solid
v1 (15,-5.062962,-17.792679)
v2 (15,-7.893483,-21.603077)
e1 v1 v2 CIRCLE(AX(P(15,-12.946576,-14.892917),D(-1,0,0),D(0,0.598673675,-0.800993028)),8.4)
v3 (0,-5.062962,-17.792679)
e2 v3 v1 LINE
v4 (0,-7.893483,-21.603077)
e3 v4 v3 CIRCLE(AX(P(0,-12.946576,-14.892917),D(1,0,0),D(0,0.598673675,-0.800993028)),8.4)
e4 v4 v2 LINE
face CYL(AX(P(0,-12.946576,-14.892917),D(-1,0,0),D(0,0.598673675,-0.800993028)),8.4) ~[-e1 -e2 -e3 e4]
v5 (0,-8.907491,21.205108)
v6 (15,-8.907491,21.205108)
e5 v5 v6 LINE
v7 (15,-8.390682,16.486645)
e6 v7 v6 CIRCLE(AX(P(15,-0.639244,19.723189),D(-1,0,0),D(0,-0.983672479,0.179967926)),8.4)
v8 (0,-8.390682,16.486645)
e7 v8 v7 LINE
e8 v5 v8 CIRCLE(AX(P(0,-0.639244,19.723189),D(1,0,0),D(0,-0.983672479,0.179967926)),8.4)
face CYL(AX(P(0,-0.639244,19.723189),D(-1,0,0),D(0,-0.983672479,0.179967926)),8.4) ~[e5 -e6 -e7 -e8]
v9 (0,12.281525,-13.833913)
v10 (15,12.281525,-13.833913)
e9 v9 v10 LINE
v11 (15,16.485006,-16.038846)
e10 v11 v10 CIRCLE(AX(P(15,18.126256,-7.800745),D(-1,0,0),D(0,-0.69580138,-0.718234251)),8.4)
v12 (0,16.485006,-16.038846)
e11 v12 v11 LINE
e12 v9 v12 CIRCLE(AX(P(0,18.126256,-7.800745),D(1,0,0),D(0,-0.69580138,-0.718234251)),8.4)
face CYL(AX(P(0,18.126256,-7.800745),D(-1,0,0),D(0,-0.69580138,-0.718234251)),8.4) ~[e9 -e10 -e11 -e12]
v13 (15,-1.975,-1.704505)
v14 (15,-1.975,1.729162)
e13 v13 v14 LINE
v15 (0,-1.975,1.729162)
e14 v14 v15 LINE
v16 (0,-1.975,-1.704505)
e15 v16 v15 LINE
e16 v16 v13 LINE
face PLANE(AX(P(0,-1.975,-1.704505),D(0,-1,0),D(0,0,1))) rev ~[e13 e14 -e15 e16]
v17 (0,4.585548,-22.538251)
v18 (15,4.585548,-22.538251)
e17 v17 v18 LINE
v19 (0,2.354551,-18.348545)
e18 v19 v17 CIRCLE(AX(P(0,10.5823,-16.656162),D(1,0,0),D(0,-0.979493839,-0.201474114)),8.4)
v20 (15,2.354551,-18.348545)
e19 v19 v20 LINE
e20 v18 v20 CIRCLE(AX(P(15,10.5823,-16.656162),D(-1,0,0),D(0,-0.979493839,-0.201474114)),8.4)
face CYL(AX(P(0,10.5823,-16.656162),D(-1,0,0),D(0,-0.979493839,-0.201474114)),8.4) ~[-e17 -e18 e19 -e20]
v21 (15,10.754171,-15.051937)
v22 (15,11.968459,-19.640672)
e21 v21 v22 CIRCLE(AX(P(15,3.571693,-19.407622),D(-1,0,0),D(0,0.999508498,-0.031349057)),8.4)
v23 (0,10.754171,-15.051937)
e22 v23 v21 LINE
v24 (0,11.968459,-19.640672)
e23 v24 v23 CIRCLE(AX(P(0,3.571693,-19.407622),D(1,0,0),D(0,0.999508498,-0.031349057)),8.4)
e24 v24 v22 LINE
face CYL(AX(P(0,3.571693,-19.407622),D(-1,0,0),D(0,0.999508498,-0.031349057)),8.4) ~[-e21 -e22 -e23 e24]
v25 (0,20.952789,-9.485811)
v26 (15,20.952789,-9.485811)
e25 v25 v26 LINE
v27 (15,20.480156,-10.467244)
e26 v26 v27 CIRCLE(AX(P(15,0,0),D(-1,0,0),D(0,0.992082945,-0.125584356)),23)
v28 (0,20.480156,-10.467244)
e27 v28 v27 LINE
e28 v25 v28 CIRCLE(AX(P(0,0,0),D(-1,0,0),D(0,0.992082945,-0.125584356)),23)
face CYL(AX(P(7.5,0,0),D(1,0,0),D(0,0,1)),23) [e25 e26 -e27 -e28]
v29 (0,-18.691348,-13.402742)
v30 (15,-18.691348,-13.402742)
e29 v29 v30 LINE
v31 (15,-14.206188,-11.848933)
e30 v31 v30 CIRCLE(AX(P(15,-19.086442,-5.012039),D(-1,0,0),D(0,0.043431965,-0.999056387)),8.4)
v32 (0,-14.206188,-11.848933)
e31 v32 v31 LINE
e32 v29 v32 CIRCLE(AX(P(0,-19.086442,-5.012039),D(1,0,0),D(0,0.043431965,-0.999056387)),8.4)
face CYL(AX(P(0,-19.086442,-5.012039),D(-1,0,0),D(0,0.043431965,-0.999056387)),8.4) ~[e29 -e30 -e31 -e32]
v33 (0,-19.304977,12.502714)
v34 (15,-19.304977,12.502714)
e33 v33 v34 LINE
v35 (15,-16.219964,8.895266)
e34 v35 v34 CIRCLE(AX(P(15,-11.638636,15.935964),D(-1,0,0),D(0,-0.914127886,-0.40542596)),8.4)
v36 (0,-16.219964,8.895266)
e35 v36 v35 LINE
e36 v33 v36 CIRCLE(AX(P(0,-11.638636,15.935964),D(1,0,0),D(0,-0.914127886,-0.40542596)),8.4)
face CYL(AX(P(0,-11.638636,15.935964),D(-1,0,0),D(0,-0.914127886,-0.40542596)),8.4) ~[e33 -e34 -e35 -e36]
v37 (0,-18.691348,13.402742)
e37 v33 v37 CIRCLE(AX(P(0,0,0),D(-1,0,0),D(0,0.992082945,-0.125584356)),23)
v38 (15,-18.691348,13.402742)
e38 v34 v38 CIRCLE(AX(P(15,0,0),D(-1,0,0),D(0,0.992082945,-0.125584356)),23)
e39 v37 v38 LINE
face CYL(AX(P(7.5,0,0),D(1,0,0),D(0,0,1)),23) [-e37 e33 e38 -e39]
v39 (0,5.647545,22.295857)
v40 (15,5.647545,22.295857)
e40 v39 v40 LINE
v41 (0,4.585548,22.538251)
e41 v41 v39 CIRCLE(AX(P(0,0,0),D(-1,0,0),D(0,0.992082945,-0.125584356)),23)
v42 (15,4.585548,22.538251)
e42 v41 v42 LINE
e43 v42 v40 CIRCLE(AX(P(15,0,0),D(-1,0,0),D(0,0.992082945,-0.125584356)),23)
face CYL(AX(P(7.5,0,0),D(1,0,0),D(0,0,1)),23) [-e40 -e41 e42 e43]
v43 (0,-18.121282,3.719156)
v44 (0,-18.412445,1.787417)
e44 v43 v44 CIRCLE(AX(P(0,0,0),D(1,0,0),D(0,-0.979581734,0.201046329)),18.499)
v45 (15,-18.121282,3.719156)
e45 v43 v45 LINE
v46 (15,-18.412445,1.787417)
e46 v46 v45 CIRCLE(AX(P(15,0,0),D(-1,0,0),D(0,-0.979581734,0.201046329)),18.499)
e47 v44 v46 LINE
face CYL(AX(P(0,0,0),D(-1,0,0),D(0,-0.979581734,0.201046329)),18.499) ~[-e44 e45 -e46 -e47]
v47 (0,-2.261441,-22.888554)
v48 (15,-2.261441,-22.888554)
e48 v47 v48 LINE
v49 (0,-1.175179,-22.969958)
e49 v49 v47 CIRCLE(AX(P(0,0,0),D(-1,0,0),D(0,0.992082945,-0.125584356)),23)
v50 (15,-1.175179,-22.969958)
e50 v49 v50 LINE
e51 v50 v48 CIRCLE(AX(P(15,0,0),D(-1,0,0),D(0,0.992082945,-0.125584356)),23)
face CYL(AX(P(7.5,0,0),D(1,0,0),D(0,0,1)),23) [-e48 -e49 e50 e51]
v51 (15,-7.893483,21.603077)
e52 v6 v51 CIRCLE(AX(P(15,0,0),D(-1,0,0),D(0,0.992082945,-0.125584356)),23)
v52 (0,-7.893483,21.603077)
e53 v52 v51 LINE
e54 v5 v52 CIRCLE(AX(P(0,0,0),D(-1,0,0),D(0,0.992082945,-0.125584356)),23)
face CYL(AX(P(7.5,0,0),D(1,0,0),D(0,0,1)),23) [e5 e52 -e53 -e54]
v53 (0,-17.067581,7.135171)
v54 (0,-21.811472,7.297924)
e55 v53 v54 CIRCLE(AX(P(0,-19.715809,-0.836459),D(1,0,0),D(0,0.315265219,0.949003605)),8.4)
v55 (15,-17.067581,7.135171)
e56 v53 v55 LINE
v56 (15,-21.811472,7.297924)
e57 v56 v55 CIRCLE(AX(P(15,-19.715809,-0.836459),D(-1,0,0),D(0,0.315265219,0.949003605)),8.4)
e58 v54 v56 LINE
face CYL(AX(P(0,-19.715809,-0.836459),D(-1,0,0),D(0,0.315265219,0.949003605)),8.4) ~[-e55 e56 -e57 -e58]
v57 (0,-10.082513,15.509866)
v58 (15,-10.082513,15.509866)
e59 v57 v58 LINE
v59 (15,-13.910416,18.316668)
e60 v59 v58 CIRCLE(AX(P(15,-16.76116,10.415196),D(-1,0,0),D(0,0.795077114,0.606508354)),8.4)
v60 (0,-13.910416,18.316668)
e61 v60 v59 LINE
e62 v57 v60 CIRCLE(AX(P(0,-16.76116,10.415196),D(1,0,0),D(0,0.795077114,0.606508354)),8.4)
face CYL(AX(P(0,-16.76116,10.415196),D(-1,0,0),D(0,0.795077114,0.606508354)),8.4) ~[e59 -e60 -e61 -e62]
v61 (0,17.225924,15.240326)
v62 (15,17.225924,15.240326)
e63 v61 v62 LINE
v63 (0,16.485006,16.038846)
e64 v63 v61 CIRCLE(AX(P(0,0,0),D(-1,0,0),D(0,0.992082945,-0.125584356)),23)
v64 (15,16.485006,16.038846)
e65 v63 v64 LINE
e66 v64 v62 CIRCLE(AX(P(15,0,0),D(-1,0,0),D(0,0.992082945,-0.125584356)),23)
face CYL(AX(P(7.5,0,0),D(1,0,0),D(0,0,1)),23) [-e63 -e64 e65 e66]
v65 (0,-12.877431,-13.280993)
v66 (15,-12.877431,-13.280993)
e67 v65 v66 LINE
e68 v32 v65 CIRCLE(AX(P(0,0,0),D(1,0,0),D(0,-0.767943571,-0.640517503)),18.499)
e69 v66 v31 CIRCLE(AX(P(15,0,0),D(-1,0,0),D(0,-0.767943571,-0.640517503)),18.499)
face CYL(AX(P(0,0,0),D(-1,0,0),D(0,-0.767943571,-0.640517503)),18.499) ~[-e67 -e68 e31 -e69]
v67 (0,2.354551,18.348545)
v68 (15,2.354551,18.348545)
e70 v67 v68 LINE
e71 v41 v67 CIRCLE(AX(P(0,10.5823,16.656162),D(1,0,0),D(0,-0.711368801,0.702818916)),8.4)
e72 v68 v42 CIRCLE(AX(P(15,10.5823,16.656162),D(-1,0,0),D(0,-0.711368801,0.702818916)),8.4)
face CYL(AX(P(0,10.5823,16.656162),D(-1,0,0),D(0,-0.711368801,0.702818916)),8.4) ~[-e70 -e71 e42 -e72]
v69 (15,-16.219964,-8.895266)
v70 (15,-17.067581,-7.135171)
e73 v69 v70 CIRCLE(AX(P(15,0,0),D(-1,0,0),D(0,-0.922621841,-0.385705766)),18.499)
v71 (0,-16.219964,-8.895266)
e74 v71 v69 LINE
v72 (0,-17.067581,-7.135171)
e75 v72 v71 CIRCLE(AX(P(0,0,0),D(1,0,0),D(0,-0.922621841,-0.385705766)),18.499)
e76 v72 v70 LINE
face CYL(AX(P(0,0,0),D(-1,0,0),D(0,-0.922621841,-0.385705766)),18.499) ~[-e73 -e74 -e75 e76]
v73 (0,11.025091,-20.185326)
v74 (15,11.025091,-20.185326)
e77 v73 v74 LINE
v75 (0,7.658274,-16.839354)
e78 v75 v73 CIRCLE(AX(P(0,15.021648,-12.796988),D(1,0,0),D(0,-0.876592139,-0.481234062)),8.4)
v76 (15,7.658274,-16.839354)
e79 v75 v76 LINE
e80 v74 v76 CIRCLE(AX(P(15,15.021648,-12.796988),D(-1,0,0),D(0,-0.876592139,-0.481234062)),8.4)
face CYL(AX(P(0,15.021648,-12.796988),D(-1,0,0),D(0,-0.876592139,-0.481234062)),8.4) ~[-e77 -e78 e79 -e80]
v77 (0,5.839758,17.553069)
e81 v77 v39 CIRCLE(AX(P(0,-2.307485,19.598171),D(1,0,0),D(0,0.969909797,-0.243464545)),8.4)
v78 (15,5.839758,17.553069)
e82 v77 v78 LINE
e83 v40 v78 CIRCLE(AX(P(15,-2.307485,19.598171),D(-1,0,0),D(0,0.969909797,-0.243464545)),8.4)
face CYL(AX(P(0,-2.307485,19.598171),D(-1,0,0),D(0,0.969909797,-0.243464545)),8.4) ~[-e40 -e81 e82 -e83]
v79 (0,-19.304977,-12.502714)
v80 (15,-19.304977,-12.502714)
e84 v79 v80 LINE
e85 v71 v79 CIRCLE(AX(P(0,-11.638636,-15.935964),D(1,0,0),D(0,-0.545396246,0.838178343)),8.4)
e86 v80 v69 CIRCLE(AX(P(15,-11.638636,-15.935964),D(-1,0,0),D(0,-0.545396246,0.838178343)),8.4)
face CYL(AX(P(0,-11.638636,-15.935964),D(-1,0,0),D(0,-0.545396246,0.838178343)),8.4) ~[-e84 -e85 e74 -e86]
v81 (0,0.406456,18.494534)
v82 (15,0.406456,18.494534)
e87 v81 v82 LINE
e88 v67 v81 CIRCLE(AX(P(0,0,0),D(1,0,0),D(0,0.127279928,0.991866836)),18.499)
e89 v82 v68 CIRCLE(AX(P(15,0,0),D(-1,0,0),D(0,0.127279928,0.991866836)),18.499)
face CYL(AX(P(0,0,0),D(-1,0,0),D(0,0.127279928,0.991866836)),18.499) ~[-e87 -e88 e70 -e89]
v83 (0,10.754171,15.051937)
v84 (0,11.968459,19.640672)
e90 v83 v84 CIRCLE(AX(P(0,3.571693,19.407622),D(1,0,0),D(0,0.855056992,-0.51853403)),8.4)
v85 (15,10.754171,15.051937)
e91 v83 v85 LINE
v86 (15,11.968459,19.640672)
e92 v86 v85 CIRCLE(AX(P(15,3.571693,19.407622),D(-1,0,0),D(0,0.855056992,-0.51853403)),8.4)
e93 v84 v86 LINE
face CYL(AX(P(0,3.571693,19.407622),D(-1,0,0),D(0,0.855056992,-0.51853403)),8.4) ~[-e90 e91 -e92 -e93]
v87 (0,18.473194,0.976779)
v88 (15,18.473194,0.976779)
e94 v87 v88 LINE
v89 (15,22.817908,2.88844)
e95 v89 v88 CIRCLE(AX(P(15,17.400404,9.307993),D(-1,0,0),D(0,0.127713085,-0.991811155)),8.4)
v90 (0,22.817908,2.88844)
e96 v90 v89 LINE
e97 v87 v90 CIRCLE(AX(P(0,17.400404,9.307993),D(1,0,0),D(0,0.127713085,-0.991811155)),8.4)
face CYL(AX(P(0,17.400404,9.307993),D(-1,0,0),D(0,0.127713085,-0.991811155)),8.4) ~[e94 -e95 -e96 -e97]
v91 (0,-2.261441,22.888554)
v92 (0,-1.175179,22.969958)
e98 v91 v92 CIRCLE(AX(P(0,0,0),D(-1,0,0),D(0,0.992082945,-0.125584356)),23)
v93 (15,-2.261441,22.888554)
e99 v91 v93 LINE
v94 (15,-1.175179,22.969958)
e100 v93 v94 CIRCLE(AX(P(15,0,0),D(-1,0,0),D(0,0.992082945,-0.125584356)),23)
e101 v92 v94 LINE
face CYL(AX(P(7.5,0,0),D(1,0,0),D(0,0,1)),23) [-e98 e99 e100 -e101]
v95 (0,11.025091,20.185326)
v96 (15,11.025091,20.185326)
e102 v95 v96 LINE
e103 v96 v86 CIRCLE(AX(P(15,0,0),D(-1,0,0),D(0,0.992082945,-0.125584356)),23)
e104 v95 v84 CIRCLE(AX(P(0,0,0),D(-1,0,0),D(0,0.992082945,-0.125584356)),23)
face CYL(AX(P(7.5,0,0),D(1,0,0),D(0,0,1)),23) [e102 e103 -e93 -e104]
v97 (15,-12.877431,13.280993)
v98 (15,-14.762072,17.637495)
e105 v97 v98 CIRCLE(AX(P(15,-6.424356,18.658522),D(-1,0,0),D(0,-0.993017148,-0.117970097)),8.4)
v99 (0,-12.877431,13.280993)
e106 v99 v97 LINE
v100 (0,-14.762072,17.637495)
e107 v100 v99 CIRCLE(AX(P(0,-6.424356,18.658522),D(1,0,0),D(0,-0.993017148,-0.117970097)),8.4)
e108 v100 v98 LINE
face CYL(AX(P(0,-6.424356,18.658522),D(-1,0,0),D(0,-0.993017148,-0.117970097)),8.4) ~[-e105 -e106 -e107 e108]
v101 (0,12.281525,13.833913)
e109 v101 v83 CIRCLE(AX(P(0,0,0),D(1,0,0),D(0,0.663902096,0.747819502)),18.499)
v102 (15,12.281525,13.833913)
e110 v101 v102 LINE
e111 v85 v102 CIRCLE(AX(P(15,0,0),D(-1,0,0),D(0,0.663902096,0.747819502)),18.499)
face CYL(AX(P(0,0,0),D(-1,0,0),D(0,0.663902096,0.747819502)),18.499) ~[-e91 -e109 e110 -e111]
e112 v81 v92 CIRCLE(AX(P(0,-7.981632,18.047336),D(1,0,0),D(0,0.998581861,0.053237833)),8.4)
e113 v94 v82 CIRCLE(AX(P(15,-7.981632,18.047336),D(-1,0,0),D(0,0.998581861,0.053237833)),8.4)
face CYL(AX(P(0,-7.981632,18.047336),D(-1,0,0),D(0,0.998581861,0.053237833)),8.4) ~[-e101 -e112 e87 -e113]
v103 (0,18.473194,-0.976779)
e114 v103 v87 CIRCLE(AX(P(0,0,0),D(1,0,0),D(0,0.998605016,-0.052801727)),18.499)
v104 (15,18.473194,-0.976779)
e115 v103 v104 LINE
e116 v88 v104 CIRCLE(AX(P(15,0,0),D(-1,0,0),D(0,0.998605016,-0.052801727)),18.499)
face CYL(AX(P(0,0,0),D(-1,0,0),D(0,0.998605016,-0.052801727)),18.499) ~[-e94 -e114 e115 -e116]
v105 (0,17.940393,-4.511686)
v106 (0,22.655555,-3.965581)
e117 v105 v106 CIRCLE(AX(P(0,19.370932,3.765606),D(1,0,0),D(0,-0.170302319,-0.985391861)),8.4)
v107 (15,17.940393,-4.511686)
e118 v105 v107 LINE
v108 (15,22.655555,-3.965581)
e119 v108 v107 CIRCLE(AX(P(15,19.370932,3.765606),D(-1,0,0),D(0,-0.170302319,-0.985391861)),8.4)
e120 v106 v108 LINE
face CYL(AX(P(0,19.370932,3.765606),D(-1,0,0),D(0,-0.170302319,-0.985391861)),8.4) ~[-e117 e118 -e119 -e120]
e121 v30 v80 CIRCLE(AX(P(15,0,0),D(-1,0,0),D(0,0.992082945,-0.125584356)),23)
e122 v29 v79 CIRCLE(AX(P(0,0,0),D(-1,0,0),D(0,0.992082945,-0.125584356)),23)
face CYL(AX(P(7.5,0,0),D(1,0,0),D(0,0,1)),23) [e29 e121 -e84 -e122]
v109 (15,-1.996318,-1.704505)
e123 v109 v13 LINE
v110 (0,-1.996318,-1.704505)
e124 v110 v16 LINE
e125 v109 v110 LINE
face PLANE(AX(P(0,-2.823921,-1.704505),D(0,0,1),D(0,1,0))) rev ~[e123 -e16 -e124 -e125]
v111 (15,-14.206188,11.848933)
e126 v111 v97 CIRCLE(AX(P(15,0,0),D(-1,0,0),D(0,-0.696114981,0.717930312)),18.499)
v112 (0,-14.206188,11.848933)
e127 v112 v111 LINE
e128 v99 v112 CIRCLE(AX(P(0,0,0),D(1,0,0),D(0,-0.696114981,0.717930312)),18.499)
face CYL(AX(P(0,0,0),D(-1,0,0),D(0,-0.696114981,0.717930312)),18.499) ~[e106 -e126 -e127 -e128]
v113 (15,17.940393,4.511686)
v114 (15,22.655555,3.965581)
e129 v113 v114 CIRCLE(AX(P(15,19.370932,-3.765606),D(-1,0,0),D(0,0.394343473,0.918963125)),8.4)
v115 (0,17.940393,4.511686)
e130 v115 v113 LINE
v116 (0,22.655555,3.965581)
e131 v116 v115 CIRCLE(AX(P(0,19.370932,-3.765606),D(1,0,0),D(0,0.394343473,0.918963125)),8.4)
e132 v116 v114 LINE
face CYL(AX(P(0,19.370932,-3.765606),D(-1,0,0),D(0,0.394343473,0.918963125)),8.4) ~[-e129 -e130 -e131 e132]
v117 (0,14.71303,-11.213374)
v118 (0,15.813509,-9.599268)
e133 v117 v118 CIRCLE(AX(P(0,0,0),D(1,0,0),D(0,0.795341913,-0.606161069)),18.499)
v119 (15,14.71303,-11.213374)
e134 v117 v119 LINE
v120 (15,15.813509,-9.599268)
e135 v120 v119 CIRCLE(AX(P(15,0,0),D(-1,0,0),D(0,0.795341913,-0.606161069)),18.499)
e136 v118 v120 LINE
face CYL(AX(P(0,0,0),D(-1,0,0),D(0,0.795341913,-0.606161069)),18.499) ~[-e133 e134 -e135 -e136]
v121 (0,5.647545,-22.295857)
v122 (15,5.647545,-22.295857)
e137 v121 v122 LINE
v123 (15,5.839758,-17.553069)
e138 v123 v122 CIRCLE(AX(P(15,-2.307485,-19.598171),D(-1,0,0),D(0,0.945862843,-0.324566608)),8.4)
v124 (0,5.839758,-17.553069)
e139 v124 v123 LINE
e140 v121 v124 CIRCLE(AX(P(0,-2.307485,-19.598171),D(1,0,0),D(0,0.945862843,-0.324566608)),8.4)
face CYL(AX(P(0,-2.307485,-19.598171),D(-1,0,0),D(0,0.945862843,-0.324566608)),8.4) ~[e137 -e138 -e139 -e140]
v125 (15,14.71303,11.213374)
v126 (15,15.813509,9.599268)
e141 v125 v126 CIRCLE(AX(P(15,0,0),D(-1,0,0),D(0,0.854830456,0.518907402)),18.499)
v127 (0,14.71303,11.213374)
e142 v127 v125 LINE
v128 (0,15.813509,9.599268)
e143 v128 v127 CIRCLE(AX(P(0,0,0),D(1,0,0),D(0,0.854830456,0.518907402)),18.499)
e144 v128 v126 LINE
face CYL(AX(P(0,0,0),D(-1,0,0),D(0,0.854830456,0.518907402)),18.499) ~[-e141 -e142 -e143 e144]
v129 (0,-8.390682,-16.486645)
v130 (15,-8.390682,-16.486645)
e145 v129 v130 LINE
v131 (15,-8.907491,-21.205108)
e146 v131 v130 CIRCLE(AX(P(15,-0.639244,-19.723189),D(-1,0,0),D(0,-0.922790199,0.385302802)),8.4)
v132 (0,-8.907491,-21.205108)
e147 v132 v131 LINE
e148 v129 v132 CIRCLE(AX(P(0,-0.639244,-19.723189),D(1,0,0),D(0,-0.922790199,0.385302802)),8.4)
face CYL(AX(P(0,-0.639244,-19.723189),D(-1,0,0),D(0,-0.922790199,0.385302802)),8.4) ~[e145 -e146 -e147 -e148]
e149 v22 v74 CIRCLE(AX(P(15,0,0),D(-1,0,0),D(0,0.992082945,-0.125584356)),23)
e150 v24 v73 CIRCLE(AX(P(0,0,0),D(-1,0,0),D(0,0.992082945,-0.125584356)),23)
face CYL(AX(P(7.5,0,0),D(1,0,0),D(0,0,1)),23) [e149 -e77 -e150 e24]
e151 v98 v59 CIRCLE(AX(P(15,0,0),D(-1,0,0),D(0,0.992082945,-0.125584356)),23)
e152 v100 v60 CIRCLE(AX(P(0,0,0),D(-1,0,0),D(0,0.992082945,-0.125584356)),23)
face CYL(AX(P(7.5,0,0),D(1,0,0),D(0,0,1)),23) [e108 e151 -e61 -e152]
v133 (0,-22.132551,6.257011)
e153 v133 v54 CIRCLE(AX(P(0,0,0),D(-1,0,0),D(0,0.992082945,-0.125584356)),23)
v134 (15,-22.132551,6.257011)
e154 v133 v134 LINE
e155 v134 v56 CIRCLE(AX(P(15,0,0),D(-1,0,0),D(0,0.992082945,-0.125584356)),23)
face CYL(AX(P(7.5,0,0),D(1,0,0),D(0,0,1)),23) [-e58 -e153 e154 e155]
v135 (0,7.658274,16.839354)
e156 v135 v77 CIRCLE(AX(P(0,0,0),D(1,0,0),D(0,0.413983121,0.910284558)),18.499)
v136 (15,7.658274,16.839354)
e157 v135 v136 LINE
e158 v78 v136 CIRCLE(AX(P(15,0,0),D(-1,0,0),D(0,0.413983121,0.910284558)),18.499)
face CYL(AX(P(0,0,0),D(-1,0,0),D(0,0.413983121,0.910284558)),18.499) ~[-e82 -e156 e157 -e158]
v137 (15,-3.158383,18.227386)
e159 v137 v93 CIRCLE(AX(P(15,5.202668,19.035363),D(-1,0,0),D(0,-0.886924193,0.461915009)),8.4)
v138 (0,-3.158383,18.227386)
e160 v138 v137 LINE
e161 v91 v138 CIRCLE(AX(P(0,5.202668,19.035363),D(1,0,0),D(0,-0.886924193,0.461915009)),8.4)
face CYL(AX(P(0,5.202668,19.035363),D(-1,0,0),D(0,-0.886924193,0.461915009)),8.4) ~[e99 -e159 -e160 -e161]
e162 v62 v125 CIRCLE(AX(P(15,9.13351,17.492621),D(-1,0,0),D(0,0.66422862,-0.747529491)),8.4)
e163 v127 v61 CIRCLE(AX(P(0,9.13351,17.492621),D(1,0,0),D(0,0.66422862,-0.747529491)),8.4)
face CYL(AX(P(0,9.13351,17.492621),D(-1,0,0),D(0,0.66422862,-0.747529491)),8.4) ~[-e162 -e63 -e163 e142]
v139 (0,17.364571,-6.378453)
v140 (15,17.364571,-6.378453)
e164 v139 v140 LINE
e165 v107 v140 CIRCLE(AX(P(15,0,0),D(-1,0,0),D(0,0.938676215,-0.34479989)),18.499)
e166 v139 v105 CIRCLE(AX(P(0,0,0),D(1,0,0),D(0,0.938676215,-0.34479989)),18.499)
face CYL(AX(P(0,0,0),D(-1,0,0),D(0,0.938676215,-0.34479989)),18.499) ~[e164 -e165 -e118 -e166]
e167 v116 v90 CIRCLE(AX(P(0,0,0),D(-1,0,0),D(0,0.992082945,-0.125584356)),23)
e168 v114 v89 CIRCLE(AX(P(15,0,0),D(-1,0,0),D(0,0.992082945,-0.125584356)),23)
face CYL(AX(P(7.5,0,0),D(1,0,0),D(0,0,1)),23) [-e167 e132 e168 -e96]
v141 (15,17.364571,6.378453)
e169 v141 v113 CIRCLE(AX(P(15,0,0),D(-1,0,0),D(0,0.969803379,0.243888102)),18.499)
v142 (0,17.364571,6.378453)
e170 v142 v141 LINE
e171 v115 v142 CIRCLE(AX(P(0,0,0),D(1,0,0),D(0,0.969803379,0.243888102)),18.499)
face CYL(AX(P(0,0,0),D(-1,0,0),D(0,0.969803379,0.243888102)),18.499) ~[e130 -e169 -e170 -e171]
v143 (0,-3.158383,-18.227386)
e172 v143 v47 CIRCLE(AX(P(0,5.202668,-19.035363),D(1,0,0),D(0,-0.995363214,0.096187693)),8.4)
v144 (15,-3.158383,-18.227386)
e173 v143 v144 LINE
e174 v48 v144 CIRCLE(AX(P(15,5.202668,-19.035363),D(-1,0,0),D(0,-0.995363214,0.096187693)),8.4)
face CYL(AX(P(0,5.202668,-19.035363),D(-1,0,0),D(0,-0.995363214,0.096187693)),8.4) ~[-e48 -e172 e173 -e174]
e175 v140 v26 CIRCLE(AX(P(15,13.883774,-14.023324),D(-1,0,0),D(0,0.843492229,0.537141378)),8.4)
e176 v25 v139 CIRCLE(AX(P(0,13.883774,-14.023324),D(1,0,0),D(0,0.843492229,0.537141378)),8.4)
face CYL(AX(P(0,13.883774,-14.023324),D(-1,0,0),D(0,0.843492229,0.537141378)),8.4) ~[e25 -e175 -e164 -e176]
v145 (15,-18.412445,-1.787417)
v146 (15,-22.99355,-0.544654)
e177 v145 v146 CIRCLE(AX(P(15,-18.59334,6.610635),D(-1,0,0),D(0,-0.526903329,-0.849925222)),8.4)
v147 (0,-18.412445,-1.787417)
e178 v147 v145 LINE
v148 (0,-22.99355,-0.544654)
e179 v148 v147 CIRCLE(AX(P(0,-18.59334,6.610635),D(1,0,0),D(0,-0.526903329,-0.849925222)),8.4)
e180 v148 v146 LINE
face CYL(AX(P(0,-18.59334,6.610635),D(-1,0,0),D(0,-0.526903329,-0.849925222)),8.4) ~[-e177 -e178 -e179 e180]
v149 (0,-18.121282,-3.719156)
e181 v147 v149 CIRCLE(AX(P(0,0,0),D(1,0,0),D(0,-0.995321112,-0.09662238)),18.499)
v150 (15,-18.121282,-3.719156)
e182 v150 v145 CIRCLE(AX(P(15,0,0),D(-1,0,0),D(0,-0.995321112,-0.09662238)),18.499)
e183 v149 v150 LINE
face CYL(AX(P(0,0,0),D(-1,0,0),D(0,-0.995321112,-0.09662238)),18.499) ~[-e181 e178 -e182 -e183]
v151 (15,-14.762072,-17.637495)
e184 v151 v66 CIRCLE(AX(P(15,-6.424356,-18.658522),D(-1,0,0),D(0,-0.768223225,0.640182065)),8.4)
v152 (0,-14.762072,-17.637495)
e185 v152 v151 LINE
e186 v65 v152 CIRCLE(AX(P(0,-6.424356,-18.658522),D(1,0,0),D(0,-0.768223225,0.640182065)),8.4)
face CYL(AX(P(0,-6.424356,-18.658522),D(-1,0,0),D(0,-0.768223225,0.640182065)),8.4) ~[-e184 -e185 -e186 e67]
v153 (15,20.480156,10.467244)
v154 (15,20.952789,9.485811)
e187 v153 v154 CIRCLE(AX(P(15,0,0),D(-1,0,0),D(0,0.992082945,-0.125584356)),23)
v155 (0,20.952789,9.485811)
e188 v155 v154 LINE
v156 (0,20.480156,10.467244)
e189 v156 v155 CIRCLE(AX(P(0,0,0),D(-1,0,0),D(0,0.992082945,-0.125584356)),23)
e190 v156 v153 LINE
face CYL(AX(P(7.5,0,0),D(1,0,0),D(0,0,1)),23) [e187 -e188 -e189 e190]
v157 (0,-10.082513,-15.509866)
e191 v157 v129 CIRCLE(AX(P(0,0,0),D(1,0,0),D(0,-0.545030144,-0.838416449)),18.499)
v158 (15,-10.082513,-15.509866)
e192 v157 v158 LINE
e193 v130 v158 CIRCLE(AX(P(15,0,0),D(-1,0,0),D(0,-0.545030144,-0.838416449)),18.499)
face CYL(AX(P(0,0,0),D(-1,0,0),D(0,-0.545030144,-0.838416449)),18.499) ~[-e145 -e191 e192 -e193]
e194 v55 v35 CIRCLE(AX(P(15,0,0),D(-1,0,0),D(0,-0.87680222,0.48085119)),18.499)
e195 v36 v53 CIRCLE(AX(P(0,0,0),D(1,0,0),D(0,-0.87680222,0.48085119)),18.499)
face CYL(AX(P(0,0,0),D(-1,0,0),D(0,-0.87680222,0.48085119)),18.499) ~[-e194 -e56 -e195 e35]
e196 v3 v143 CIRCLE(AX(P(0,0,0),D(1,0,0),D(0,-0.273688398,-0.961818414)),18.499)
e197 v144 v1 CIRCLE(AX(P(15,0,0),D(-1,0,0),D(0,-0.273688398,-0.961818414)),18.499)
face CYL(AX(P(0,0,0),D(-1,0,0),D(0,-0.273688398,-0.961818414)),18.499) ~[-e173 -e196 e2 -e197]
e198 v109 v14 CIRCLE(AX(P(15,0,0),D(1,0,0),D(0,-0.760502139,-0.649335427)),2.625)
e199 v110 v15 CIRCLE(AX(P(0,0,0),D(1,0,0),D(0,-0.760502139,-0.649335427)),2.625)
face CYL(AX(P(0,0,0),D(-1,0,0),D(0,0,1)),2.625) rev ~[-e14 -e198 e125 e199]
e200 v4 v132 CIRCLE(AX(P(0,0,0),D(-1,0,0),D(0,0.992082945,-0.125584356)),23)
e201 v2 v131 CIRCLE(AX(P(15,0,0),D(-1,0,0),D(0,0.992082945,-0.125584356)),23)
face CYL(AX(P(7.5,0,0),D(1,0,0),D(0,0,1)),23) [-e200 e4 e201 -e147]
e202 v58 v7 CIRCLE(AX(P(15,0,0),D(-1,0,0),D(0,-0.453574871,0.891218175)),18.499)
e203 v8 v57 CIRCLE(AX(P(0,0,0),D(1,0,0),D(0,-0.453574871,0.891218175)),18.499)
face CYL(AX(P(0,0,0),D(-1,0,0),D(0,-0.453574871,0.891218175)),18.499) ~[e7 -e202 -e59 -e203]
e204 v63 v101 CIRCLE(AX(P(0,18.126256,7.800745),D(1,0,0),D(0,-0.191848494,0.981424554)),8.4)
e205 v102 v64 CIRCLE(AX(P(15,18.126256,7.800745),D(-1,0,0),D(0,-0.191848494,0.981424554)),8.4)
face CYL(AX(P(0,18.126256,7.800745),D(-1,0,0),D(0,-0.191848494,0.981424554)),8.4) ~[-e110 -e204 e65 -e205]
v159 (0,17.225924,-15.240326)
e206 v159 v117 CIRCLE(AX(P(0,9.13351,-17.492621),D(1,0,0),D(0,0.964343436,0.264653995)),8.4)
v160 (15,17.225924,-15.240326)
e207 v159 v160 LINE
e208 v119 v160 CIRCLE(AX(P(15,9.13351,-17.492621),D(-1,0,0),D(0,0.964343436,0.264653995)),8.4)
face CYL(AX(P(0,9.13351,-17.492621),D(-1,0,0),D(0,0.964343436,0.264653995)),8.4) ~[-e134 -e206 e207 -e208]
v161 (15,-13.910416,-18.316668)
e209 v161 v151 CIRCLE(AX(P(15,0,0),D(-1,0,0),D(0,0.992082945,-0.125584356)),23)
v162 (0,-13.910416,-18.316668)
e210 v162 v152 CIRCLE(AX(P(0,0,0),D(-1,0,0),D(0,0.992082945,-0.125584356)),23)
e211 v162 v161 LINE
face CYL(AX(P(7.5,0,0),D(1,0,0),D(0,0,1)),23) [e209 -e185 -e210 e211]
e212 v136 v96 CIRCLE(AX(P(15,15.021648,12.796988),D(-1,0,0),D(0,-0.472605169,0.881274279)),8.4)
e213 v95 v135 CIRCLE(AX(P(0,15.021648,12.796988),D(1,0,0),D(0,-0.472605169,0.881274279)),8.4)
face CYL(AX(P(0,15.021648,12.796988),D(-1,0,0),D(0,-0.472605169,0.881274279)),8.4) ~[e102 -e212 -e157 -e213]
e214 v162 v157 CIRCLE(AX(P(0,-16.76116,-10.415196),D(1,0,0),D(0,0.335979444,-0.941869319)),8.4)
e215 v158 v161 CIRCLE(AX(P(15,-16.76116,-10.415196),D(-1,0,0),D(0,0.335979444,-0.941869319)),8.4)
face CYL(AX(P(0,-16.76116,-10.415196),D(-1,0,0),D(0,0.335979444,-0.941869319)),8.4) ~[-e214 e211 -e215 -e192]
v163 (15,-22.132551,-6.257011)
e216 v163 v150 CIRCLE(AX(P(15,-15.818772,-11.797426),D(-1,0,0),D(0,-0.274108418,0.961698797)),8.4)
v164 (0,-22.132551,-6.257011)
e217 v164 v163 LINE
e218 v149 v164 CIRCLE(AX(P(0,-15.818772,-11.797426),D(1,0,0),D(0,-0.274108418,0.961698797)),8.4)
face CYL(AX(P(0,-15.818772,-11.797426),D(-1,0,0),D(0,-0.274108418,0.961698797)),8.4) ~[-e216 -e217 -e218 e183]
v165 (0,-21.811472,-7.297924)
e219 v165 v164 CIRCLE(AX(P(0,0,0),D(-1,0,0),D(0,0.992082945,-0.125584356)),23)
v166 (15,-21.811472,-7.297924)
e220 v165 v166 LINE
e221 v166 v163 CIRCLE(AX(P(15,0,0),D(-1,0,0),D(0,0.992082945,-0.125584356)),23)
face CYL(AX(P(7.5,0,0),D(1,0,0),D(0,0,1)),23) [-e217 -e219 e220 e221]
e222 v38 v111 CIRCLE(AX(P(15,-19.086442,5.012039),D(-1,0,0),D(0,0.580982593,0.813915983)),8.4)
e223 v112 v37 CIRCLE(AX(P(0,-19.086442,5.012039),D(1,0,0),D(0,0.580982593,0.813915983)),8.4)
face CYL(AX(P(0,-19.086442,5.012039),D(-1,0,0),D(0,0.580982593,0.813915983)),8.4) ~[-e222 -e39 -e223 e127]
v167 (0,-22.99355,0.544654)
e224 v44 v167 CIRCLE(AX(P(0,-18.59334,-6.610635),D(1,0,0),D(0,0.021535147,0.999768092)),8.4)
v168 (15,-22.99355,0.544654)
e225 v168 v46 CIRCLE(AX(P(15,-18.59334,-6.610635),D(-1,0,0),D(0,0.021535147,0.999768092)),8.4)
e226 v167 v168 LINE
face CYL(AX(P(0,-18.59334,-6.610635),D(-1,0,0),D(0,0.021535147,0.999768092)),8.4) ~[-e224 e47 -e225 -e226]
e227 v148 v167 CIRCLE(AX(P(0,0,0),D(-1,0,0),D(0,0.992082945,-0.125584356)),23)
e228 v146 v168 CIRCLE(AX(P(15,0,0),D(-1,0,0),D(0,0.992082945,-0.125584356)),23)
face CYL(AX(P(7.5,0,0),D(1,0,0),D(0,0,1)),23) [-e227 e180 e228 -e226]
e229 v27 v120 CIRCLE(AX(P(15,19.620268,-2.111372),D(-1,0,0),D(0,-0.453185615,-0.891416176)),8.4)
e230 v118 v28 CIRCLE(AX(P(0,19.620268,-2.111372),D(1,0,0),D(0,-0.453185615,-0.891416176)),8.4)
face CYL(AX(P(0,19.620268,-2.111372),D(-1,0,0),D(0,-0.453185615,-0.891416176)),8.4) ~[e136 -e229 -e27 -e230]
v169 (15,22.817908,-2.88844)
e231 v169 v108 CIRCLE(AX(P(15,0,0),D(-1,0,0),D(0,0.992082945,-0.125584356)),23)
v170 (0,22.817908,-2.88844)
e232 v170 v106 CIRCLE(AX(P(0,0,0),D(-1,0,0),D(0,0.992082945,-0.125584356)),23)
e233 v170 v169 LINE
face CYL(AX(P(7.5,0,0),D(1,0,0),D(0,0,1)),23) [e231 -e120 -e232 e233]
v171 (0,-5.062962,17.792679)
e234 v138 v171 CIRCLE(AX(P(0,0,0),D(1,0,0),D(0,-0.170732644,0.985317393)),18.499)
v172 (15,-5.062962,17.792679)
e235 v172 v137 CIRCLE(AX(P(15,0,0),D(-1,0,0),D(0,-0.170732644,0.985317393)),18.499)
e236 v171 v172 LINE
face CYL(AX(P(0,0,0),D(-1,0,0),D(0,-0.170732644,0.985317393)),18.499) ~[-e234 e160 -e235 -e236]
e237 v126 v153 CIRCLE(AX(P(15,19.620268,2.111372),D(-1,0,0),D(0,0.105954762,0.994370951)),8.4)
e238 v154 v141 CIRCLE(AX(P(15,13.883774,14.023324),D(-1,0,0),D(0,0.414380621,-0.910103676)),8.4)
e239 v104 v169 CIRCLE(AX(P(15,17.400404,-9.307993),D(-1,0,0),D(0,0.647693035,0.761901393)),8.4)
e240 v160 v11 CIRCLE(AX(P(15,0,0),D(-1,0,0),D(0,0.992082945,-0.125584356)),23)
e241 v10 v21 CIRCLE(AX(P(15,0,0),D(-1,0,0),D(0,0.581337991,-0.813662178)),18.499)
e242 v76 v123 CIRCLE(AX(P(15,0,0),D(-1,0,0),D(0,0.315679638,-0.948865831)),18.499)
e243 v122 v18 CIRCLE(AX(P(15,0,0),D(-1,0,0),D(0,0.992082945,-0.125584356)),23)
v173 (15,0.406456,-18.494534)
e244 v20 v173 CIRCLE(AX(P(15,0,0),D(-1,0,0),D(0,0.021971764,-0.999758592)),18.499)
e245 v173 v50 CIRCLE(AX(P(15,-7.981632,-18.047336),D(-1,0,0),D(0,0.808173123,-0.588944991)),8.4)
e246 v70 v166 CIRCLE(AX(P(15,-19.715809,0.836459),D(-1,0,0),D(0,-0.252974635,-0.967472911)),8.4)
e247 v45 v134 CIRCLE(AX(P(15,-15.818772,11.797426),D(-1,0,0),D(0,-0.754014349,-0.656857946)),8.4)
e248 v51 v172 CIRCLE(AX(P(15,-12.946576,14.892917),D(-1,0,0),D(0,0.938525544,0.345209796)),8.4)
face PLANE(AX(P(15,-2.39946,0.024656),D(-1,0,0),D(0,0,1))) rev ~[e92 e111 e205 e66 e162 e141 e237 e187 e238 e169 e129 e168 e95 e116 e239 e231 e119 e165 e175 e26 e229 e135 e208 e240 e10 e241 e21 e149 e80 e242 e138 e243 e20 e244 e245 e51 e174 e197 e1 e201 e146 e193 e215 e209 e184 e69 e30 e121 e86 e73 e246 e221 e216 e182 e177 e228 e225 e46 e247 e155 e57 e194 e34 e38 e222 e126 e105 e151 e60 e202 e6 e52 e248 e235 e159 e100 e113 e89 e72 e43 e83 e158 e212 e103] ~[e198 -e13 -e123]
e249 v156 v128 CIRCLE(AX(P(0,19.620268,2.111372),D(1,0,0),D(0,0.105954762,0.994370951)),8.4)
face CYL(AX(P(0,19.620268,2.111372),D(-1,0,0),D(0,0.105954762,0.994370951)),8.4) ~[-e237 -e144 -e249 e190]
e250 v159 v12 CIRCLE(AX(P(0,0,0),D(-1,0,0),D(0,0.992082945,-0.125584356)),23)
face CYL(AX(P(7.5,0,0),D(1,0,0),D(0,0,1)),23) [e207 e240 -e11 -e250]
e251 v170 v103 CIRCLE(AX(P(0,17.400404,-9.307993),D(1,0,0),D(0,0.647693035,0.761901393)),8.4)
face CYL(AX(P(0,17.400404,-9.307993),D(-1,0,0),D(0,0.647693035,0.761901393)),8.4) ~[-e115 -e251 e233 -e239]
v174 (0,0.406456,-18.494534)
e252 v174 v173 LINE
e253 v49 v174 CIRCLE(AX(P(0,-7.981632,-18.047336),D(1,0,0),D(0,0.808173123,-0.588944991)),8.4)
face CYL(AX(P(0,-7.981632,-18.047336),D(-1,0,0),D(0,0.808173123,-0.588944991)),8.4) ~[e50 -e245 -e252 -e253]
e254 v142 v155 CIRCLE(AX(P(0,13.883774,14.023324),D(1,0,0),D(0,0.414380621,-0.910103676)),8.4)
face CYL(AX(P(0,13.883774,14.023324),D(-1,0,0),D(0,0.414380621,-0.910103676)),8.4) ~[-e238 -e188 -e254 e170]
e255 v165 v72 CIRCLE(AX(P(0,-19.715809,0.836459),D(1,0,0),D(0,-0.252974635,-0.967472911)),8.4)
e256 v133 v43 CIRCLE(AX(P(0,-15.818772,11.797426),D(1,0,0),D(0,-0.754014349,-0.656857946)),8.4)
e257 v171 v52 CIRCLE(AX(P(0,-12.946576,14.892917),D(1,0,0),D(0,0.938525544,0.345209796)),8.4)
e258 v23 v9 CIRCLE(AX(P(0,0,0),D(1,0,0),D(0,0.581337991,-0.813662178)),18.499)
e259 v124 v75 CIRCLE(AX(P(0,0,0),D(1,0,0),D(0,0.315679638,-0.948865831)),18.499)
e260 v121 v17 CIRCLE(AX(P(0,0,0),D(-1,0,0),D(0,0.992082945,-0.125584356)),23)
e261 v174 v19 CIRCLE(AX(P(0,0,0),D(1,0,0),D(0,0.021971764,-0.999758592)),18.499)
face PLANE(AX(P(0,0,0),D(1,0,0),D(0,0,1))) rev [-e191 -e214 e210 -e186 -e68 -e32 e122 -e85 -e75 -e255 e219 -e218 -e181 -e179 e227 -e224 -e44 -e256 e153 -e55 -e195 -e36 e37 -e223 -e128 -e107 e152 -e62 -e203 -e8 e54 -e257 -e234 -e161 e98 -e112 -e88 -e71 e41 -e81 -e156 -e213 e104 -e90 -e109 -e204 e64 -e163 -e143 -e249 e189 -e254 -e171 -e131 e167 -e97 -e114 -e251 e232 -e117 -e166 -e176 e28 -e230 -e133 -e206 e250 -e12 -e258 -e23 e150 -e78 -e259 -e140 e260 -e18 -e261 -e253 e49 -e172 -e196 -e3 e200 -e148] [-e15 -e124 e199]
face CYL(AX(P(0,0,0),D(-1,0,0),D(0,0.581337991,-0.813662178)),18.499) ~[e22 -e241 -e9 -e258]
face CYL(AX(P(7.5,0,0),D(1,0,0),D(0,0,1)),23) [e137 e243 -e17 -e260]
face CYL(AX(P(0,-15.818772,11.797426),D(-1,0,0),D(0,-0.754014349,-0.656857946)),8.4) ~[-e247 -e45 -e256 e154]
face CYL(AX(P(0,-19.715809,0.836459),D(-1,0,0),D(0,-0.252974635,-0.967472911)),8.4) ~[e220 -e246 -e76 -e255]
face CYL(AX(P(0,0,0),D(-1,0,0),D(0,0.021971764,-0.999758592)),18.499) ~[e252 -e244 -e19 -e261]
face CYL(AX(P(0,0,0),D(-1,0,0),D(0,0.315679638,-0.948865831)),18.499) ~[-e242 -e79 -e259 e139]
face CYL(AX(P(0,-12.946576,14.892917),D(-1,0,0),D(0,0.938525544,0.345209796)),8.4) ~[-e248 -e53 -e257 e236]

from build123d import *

# Parameters (mm, degrees)
BASPROSKE_W         = 15
BASPROSKE_H         = 23
TOOTHCUT_DEPTH      = 36.818989377
TEETHCUTS_COUNT     = 21
TEETHCUTS_ANGLE     = 342.857142857
BORSKE_R            = 2.5
BORE_DEPTH          = 50.0000508
SKETCH_1_R          = 2.625
CUT_EXTRUDE_1_DEPTH = 15
SKETCH_3_W          = 3.458323293
SKETCH_3_H          = 0.848920995
EXTRUDE_1_DEPTH     = 15


with BuildPart() as part:
    # BasProSke → Base-Revolve (revolve)
    with BuildSketch(Plane(origin=(0, 0, 0), x_dir=(1, 0, 0), z_dir=(0, 1, 0)), mode=Mode.PRIVATE) as base_revolve_sk:
        with Locations((7.5, 11.5)):
            Rectangle(BASPROSKE_W, BASPROSKE_H)
    revolve(base_revolve_sk.sketch.rotate(Axis((-10, 0, 0), (1, 0, 0)), 180), axis=Axis((-10, 0, 0), (1, 0, 0)))

    # TooCutSke → ToothCut (cut, through all)
    with BuildSketch(Plane(origin=(0, 0, 0), x_dir=(0, 0, -1), z_dir=(1, 0, 0))):
        with BuildLine():
            ThreePointArc((0.976779145, 18.473194188), (0, 18.499), (-0.976779145, 18.473194188))
            ThreePointArc((-0.976779145, 18.473194188), (-1.625451341, 20.797249275), (-2.90802115, 22.841025768))
            ThreePointArc((-2.90802115, 22.841025768), (0, 23.0254), (2.90802115, 22.841025768))
            ThreePointArc((2.90802115, 22.841025768), (1.625451341, 20.797249275), (0.976779145, 18.473194188))
        make_face()
    toothcut = extrude(amount=TOOTHCUT_DEPTH, mode=Mode.SUBTRACT)

    # TeethCuts: ToothCut ×21 about axis
    teethcuts_axis = Axis((-10, 0, 0), (1, 0, 0))
    for i in range(1, TEETHCUTS_COUNT):
        add(toothcut.rotate(teethcuts_axis, i * TEETHCUTS_ANGLE / (TEETHCUTS_COUNT - 1)), mode=Mode.SUBTRACT)

    # BorSke → Bore (cut, symmetric)
    with BuildSketch(Plane(origin=(0, 0, 0), x_dir=(0, 0, -1), z_dir=(1, 0, 0))):
        with Locations(Location((0, 0, 0), (0, 0, 180))):
            Circle(BORSKE_R)
    extrude(amount=BORE_DEPTH, both=True, mode=Mode.SUBTRACT)

    # 草圖1 → 除料-伸長1 (cut)
    with BuildSketch(Plane.ZY):
        Circle(SKETCH_1_R)
    extrude(amount=-CUT_EXTRUDE_1_DEPTH, mode=Mode.SUBTRACT)

    # 草圖3 → 填料-伸長1 (add)
    with BuildSketch(Plane.ZY):
        with Locations((0.024656151, -2.399460498)):
            Rectangle(SKETCH_3_W, SKETCH_3_H)
    extrude(amount=-EXTRUDE_1_DEPTH)


solid = part.part
